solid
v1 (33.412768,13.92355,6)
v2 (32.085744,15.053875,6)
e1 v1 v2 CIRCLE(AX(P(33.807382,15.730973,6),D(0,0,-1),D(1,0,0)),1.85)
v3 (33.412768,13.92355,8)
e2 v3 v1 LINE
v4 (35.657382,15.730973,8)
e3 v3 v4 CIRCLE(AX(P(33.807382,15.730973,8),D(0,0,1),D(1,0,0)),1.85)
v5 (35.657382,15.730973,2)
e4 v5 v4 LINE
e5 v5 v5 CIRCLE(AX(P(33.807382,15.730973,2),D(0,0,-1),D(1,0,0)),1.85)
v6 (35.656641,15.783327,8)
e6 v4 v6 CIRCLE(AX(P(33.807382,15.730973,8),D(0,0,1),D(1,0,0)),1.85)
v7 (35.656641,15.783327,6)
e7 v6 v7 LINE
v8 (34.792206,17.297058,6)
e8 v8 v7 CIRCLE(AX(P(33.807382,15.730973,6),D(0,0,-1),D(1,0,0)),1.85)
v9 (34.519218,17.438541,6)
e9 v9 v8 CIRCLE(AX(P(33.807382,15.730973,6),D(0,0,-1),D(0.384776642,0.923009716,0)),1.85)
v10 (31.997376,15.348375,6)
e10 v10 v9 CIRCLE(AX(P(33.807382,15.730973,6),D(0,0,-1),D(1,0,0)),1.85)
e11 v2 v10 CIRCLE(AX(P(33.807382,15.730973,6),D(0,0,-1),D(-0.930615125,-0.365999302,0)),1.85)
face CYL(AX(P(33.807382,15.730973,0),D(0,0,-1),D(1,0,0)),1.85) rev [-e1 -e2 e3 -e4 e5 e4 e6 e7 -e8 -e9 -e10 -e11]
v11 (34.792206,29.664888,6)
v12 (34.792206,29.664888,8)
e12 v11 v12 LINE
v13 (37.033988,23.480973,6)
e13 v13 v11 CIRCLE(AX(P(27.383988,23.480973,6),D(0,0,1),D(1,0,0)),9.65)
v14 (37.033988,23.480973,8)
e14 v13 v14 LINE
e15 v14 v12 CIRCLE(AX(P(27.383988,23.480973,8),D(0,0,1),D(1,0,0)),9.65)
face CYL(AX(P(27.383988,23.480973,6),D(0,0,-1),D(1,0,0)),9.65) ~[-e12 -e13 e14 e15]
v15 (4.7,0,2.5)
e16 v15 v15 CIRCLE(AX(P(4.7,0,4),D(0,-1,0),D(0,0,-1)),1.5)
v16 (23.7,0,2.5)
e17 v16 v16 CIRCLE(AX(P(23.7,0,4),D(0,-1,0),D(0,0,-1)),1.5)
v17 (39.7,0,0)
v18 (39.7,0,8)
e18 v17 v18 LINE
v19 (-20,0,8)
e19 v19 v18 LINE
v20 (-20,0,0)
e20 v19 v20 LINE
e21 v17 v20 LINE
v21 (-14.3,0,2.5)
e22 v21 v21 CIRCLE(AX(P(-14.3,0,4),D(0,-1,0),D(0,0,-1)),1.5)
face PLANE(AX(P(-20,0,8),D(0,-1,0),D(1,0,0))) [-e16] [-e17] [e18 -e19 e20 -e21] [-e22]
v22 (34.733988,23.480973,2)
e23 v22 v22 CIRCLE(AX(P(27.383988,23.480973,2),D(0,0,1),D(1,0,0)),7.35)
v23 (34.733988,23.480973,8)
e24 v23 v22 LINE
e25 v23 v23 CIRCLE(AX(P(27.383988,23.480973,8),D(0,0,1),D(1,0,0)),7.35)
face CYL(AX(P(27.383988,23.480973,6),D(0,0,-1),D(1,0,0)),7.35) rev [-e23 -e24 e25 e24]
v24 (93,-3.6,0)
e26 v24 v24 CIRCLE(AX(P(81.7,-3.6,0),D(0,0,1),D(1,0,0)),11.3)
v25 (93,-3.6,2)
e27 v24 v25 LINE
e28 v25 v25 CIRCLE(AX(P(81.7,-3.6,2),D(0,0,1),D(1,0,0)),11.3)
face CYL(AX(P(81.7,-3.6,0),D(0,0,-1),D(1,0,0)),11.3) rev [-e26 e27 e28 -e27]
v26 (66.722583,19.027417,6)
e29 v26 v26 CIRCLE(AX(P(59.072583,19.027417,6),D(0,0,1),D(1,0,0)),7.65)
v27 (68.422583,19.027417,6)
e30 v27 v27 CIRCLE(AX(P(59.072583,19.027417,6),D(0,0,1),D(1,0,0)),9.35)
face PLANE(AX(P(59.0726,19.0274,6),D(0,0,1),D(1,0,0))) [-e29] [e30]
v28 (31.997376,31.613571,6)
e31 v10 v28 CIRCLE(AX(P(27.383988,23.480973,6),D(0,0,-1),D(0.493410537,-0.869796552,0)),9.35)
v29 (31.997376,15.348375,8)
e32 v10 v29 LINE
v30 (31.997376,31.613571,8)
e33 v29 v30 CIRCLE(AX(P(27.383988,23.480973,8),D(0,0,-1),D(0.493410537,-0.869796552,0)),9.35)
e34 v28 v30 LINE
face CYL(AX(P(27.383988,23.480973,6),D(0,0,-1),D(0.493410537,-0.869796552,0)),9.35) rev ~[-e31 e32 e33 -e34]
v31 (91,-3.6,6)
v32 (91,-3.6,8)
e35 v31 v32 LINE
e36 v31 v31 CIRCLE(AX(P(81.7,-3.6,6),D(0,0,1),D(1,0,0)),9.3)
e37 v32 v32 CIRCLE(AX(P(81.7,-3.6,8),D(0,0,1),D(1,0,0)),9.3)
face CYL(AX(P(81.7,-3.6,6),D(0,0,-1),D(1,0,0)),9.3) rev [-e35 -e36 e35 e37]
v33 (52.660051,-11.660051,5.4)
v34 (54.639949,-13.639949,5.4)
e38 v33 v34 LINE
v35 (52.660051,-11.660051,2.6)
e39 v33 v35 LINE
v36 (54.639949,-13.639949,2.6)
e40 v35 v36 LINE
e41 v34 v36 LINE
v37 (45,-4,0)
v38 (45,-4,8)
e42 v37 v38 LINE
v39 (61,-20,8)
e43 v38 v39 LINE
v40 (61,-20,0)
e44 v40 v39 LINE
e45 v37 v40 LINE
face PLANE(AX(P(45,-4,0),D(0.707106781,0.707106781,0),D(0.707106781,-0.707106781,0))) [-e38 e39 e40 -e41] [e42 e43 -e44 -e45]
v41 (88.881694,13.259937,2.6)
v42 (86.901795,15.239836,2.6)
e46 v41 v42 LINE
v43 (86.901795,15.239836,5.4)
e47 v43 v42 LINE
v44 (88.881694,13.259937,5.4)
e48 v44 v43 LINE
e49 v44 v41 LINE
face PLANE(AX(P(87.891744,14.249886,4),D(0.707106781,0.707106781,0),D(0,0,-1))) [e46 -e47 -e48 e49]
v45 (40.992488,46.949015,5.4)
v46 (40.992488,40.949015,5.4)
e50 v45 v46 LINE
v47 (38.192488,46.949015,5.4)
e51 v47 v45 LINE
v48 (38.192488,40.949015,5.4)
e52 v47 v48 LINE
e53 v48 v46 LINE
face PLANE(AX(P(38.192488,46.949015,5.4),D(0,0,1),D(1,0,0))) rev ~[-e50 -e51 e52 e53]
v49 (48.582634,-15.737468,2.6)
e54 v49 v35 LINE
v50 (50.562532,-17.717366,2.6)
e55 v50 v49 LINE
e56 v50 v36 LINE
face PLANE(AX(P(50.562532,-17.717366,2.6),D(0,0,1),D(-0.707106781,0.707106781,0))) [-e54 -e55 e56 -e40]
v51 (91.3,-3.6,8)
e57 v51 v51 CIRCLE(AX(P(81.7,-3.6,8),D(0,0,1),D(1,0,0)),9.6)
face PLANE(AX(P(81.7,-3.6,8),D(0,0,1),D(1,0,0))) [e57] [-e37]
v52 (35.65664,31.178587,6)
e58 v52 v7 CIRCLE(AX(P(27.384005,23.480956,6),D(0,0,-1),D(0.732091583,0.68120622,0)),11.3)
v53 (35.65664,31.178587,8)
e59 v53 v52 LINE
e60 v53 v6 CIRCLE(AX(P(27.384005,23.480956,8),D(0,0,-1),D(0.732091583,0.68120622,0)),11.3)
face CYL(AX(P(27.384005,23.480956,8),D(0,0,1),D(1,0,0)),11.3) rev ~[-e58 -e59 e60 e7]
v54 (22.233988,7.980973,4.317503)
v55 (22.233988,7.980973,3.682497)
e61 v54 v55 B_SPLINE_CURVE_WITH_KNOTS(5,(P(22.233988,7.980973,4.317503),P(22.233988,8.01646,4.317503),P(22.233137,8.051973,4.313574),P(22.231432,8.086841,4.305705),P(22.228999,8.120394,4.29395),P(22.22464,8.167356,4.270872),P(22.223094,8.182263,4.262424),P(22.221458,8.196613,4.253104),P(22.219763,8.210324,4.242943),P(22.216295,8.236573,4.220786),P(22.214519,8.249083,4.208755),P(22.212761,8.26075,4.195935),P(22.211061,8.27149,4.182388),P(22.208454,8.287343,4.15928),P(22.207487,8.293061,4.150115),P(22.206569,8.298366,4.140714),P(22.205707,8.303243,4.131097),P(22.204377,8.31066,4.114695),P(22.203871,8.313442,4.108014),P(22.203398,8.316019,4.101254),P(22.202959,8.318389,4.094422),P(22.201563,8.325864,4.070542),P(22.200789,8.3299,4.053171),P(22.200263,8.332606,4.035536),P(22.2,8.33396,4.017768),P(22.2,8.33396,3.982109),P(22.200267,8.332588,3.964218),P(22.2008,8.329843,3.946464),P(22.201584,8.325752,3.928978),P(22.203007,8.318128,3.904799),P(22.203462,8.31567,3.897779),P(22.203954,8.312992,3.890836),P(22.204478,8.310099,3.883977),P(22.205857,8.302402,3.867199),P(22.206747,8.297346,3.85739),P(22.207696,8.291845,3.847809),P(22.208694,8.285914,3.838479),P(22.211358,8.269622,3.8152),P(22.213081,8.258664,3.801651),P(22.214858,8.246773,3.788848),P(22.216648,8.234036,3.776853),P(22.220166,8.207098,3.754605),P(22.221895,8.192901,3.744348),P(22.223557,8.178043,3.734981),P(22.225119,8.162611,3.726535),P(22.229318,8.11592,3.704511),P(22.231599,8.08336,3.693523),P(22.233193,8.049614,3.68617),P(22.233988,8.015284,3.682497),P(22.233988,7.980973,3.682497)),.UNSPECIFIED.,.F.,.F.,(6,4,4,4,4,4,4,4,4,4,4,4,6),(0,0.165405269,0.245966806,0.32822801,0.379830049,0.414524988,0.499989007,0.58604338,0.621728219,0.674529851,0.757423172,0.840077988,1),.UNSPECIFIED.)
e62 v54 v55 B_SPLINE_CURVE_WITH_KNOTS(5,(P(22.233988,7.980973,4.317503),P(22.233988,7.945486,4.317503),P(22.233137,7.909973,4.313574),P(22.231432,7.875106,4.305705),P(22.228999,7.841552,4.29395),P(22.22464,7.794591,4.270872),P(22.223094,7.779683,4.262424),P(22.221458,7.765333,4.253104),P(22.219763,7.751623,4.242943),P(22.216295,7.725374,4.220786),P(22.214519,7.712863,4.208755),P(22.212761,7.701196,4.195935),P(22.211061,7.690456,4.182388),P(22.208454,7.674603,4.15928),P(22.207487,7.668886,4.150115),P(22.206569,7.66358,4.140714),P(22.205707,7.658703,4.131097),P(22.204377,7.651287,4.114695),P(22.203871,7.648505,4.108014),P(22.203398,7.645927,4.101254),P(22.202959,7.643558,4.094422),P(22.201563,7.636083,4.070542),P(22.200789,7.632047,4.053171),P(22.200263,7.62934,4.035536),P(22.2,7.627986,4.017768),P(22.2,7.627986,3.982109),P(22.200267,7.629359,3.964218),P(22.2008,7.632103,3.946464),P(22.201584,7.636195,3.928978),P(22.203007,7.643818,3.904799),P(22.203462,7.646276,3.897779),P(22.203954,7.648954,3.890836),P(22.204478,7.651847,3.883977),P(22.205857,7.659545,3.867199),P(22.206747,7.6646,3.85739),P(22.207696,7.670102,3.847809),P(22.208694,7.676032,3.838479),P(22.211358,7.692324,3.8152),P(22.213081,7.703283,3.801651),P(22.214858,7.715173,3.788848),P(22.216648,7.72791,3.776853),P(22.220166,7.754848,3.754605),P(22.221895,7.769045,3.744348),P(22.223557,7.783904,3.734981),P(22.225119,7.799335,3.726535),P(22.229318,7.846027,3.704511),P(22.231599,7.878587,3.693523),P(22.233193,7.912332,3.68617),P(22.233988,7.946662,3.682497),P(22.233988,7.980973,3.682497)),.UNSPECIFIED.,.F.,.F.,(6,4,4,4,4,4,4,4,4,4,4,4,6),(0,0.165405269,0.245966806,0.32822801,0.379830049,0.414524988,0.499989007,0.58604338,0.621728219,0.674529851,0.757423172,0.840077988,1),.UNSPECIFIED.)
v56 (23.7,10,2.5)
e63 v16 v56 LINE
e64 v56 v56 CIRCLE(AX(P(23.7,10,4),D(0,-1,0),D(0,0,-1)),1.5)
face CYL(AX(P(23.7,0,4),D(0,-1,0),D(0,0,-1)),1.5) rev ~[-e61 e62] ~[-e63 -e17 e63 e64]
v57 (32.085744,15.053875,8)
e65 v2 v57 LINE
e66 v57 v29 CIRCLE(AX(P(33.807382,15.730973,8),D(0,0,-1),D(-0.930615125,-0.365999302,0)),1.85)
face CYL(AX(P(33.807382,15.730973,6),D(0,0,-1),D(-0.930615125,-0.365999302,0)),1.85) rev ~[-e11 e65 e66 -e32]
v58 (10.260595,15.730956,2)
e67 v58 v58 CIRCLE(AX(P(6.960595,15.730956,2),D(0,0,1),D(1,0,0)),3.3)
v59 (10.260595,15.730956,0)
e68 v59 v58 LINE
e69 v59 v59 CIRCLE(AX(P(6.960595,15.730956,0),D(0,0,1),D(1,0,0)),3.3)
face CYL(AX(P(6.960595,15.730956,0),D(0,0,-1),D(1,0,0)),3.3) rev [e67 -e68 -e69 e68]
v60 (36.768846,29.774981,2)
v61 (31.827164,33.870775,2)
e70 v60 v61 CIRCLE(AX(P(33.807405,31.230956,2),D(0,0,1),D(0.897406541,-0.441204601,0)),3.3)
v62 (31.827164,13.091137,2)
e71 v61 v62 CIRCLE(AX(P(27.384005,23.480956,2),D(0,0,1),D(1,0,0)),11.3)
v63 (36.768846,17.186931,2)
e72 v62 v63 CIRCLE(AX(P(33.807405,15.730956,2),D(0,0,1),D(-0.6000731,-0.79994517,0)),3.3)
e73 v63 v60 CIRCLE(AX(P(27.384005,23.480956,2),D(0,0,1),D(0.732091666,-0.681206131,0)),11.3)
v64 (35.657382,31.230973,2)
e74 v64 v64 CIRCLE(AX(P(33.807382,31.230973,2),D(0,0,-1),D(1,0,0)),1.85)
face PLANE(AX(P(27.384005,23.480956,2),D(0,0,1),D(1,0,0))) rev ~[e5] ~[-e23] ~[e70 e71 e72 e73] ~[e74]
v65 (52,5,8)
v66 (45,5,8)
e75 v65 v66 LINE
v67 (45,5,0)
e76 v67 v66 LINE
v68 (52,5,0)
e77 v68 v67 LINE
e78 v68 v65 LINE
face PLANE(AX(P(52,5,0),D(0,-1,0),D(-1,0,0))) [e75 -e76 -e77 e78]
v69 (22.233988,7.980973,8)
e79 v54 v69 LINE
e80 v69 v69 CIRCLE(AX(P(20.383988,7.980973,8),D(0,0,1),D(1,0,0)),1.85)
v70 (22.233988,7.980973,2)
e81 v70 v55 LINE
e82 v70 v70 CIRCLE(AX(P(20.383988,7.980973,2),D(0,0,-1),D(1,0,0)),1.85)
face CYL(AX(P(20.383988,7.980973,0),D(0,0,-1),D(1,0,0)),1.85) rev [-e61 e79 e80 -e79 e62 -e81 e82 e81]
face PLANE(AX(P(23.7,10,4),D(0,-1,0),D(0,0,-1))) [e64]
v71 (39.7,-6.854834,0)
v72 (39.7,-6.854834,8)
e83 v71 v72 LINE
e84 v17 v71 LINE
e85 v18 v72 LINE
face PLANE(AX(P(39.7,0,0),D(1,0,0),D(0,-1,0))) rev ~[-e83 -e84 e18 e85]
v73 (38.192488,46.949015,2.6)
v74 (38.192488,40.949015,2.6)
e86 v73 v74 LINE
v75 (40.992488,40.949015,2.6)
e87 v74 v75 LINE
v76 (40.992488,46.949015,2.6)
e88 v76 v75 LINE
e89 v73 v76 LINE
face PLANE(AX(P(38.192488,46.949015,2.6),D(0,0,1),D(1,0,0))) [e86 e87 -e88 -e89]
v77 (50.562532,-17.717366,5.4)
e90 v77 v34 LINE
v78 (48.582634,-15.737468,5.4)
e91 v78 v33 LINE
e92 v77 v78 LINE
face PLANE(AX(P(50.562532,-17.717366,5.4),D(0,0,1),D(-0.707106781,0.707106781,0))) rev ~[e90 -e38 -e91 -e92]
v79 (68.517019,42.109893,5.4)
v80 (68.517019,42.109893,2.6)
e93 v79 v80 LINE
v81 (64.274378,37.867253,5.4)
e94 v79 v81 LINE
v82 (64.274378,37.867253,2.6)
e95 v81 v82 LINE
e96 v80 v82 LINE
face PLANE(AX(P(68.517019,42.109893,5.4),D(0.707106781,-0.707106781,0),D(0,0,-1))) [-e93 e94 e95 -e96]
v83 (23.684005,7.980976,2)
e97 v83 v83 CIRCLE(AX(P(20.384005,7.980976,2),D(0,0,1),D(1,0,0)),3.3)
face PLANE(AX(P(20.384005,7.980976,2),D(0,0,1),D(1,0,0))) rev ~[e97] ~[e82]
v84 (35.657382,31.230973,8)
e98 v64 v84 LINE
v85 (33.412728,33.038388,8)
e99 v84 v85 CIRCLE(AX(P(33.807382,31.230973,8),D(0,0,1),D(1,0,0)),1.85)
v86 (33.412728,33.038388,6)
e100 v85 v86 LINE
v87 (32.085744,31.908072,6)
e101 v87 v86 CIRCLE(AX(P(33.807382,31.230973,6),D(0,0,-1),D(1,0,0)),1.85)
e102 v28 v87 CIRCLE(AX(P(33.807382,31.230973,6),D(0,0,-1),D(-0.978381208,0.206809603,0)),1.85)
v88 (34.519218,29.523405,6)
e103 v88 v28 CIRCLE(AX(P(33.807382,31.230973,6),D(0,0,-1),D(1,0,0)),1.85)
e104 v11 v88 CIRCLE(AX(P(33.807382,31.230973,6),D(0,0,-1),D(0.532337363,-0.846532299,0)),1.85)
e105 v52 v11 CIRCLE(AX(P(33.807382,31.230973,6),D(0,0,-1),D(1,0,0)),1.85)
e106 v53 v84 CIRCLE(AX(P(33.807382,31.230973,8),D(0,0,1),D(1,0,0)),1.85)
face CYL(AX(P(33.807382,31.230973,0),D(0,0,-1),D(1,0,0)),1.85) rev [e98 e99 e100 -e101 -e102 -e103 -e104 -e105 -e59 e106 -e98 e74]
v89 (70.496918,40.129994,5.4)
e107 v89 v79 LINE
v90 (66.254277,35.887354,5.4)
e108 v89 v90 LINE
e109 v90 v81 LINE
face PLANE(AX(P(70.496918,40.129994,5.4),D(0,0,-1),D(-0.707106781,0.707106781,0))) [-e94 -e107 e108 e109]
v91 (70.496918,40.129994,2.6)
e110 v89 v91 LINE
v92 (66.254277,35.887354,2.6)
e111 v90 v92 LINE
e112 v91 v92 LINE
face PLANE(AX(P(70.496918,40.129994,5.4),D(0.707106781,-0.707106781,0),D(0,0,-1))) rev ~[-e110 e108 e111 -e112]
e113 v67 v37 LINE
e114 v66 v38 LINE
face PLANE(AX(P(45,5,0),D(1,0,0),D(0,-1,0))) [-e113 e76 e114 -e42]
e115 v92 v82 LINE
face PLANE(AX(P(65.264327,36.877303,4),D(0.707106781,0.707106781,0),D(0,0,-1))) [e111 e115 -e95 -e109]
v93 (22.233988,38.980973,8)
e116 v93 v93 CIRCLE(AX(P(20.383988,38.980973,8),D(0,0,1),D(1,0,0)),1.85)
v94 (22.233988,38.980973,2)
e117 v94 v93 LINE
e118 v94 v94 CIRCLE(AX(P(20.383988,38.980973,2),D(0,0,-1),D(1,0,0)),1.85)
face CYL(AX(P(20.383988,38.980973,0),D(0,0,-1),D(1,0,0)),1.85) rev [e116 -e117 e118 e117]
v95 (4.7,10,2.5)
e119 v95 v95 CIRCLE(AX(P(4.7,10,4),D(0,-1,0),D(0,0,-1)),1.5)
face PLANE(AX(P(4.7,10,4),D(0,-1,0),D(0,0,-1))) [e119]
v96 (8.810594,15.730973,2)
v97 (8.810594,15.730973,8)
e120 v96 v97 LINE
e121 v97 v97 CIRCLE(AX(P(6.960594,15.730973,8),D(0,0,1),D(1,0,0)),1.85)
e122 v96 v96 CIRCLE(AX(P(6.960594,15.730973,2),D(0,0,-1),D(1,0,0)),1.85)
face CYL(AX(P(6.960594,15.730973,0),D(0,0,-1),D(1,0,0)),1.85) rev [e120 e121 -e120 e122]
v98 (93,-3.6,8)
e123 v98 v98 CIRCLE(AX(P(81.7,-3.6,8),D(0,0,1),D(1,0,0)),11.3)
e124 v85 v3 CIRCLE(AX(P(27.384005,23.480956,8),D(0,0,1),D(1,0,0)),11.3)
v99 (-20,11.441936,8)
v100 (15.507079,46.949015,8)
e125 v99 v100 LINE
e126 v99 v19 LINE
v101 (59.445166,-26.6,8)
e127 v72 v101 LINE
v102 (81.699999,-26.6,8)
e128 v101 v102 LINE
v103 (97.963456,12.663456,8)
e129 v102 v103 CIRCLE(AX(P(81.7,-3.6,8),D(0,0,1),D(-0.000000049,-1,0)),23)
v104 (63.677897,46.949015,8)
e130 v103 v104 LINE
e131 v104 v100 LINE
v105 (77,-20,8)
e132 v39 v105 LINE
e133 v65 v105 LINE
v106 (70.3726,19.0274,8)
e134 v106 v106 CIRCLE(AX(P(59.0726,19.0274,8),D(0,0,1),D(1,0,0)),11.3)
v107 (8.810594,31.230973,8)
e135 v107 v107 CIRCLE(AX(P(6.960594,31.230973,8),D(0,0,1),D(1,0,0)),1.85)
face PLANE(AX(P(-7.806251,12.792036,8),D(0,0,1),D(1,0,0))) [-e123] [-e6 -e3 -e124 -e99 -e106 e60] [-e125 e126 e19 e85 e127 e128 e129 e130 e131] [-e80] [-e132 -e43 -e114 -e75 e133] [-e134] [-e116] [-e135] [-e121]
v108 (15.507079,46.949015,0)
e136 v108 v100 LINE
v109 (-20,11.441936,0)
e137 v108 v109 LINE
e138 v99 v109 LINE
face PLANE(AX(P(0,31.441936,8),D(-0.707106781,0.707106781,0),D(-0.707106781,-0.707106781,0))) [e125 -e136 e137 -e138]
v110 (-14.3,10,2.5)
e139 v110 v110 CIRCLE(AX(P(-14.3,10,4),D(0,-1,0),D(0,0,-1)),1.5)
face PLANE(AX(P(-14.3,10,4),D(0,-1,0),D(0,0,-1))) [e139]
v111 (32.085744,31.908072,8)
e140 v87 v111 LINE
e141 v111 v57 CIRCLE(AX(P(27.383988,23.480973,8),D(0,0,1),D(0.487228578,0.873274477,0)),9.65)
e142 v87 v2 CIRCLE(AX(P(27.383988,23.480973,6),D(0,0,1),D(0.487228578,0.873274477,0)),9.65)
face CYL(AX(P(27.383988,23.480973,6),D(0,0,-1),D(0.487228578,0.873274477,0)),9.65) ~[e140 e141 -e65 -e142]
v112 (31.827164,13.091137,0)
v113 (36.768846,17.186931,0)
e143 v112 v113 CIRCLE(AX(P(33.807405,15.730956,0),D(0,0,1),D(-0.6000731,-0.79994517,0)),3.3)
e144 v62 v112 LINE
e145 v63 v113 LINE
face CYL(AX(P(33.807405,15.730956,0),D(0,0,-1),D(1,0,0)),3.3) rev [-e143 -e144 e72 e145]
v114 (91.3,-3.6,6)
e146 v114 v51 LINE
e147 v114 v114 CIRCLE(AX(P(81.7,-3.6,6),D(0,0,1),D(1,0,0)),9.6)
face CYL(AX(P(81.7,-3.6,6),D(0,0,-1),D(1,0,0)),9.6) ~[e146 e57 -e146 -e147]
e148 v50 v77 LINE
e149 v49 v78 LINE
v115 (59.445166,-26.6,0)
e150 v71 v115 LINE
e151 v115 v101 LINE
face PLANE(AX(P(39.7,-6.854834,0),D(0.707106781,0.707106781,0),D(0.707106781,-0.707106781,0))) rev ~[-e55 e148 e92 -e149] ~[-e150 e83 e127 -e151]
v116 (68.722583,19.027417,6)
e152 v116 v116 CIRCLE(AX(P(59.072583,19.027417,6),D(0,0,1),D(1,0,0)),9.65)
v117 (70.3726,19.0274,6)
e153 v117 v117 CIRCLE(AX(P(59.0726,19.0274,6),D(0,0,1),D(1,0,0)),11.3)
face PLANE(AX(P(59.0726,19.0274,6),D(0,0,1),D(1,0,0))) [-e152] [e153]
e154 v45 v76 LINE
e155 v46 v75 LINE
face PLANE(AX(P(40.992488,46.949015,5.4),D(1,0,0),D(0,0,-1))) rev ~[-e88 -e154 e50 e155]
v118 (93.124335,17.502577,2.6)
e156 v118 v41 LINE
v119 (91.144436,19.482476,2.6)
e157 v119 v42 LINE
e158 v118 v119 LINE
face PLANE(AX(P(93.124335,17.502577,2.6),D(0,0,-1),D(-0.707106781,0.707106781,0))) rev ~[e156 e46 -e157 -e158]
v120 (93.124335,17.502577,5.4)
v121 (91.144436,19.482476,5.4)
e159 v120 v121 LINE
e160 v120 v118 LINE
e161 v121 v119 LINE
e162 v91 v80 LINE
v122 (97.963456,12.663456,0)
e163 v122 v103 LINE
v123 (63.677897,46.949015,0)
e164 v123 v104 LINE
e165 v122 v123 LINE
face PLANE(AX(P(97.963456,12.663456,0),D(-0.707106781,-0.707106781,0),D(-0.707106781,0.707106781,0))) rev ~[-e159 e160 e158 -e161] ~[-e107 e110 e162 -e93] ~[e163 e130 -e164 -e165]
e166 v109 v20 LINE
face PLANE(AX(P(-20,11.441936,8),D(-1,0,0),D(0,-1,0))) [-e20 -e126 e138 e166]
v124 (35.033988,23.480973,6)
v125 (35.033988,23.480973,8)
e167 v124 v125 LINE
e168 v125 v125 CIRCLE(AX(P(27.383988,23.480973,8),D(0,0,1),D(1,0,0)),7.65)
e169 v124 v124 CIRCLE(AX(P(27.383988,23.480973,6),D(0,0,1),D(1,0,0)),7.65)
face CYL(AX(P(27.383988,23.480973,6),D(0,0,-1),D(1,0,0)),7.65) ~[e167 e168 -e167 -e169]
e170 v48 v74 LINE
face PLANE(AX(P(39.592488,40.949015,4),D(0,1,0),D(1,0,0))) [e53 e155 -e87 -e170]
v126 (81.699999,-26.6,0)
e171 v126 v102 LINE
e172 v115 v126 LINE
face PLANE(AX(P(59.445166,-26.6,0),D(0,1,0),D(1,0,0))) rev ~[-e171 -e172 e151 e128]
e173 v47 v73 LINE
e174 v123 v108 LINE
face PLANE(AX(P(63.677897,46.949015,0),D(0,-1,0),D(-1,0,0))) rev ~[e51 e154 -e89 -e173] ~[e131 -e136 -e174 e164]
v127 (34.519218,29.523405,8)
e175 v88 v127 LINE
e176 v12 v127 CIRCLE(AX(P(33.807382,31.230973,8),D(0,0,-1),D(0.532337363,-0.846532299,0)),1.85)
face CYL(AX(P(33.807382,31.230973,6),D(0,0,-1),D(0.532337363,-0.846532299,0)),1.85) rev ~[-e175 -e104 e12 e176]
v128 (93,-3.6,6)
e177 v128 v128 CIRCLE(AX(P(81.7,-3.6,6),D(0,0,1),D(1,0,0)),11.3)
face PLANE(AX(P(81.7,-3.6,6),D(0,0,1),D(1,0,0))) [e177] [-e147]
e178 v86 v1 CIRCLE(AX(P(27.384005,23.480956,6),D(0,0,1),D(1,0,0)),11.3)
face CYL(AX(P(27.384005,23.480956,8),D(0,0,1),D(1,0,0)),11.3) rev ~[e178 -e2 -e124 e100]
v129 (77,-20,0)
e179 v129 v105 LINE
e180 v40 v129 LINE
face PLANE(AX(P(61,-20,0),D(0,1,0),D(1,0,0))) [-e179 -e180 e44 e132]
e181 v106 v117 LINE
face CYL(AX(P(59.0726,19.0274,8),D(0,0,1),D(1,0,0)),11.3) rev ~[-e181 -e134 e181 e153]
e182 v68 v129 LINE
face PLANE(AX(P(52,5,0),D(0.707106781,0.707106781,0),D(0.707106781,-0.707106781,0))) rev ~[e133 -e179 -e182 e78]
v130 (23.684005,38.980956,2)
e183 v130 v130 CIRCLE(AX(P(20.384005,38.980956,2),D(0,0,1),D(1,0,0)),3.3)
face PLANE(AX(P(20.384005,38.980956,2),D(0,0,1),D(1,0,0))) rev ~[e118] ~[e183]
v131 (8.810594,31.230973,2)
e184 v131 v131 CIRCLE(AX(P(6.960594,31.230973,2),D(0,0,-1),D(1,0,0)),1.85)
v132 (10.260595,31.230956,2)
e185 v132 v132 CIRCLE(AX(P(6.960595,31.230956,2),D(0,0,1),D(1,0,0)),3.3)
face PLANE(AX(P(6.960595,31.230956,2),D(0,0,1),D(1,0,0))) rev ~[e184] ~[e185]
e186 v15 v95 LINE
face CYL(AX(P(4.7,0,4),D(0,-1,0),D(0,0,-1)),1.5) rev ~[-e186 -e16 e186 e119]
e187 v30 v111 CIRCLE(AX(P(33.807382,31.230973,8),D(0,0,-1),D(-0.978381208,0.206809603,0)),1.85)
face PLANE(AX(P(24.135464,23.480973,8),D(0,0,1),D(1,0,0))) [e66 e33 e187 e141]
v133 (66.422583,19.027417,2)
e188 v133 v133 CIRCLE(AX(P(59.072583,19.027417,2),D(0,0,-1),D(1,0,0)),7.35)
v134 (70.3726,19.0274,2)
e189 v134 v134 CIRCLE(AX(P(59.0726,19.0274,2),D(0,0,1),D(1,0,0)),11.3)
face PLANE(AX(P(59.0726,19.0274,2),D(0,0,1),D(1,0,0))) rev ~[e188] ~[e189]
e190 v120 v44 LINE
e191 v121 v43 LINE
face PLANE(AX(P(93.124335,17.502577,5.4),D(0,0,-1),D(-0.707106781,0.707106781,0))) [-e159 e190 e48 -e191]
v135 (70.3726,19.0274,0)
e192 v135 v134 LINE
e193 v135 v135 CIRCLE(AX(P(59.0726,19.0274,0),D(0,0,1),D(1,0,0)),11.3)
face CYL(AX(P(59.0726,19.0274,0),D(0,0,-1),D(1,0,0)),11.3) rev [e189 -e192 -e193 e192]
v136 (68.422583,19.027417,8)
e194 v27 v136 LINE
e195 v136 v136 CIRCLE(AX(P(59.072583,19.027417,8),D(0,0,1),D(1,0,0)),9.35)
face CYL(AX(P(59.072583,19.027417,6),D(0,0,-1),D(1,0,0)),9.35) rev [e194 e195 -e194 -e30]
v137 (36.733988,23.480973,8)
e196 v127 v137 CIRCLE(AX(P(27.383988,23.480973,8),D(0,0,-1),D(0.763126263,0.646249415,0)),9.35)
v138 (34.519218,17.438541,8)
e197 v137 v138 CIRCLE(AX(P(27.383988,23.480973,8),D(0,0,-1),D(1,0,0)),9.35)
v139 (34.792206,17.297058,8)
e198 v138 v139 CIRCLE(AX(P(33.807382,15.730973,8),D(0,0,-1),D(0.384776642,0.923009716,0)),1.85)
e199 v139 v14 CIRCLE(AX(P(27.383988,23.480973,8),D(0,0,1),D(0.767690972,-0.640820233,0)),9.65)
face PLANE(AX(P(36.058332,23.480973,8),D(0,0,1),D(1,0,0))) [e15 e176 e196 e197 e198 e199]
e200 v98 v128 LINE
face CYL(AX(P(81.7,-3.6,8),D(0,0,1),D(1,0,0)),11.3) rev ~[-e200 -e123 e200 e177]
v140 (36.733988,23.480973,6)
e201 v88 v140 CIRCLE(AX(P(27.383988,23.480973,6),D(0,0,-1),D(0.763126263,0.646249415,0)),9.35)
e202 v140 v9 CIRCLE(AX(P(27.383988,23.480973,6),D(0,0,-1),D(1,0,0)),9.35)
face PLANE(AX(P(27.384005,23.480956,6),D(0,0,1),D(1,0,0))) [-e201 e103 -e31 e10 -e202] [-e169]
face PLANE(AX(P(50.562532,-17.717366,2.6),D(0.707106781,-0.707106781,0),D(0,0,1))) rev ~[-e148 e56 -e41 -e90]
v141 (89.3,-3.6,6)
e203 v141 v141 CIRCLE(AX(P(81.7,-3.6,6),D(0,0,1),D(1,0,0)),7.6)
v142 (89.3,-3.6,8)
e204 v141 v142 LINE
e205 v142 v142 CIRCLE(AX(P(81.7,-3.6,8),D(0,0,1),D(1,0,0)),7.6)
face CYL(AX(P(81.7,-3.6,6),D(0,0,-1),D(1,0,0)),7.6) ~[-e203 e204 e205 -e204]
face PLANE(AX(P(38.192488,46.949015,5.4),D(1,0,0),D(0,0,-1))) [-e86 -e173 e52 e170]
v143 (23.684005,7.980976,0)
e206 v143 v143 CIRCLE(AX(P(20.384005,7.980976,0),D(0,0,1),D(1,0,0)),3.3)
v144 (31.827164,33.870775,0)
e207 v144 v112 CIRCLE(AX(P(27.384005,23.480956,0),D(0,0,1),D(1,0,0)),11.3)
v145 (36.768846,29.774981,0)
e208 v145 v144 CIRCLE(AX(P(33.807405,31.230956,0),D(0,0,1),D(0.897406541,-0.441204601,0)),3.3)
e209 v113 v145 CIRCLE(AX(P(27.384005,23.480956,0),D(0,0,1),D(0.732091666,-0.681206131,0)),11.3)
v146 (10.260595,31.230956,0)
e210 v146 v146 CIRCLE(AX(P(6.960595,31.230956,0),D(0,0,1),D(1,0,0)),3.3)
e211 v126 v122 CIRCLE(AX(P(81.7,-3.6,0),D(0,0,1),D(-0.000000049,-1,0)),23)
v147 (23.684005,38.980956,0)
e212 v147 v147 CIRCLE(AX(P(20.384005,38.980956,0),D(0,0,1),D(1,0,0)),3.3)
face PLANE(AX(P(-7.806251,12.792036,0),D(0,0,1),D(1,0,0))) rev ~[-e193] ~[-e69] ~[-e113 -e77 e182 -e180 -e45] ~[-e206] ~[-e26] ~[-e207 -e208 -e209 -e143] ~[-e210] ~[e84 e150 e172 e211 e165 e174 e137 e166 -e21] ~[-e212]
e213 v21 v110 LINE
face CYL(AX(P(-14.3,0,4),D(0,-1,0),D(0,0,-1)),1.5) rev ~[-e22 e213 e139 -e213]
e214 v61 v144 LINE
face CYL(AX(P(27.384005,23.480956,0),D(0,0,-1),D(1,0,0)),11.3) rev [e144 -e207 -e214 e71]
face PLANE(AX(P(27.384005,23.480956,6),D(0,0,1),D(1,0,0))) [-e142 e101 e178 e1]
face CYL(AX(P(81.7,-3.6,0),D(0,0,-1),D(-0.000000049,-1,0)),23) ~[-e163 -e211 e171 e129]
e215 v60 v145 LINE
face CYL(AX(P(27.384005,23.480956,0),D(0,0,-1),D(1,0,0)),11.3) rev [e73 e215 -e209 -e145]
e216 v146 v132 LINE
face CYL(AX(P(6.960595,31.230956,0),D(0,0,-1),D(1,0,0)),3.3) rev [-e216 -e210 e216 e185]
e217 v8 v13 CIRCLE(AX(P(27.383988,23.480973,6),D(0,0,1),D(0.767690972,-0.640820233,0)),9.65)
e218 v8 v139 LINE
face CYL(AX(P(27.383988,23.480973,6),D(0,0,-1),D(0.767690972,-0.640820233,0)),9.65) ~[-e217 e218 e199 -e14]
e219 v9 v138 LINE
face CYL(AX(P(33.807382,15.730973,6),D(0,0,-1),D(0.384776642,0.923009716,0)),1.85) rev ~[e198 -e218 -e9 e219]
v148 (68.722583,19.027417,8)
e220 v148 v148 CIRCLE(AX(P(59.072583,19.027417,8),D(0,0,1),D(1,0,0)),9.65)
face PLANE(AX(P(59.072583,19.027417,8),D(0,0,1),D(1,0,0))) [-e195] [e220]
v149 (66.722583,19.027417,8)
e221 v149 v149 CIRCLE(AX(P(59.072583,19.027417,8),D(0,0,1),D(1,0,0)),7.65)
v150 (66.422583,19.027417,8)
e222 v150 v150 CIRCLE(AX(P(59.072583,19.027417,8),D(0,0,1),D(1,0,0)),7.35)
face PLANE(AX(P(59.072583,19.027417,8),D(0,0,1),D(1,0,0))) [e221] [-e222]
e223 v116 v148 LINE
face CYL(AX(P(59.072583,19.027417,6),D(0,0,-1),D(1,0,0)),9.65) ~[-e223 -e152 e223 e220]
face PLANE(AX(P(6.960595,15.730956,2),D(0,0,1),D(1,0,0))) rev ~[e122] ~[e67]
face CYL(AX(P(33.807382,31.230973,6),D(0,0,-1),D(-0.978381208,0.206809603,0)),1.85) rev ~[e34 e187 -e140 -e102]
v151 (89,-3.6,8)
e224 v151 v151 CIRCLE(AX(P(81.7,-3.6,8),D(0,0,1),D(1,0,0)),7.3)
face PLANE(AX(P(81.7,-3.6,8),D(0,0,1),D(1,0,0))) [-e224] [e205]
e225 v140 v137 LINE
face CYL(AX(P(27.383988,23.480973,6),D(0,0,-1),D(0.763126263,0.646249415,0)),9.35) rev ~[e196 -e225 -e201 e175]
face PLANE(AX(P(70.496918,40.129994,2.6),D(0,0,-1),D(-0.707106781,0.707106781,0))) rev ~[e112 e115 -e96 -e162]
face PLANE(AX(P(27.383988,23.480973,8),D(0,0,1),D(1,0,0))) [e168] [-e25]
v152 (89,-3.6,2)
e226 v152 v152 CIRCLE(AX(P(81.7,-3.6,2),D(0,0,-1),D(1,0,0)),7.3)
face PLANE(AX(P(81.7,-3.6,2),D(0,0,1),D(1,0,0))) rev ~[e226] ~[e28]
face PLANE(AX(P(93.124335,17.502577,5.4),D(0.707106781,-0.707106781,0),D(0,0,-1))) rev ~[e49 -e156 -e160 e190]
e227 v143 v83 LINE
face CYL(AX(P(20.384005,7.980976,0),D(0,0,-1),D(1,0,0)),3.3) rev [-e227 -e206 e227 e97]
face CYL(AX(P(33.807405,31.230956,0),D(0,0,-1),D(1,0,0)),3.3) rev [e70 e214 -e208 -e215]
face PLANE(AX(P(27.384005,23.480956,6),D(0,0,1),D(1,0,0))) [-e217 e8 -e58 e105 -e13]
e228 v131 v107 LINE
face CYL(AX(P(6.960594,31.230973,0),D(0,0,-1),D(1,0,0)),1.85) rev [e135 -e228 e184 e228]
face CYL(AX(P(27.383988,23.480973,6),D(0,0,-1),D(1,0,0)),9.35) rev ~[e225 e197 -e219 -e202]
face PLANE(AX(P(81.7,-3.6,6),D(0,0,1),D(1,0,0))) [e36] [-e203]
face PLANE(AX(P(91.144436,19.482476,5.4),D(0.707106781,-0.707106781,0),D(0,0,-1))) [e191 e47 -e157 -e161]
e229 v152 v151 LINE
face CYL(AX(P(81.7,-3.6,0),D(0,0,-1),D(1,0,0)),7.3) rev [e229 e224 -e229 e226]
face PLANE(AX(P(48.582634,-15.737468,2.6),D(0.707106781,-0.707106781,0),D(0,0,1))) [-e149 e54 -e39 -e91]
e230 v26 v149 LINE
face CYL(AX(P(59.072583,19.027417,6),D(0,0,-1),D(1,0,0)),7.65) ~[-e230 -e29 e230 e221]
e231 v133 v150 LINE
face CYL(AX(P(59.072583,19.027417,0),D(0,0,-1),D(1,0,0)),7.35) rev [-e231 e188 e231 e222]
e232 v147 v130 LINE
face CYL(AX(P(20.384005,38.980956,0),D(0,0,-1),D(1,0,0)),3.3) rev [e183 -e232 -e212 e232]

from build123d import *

# Parameters (mm, degrees)
MODEL_R                  = 7.35
MODEL_R_2                = 7.3
MODEL_R_3                = 1.85
RESSALTO_EXTRUS_O1_DEPTH = 8
ESBO_O3_R                = 11.3
CORTE_EXTRUS_O1_DEPTH    = 2
ESBO_O4_R                = 11.3
CORTE_EXTRUS_O2_DEPTH    = 2
ESBO_O2_R                = 3.3
CORTE_EXTRUS_O4_DEPTH    = 2
ESBO_O7_W                = 2.8
ESBO_O7_H                = 2.8
CORTE_EXTRUS_O6_DEPTH    = 6
ESBO_O8_W                = 2.8
ESBO_O8_H                = 2.8
CORTE_EXTRUS_O7_DEPTH    = 6
ESBO_O10_W               = 2.8
ESBO_O10_H               = 2.8
CORTE_EXTRUS_O9_DEPTH    = 6
ESBO_O11_R               = 7.65
ESBO_O11_R_2             = 7.35
ESBO_O11_R_3             = 9.65
ESBO_O11_R_4             = 9.35
ESBO_O11_R_5             = 9.6
ESBO_O11_R_6             = 9.3
ESBO_O11_R_7             = 7.6
ESBO_O11_R_8             = 7.3
RESSALTO_EXTRUS_O2_DEPTH = 2
RESSALTO_EXTRUS_O3_DEPTH = 8
ESBO_O6_R                = 1.5
CORTE_EXTRUS_O5_DEPTH    = 10


with BuildPart() as part:
    # Model → Ressalto-extrusão1 (new body)
    with BuildSketch(Plane.XY):
        with BuildLine():
            Line((0, 0), (39, 0))
            Line((39, 0), (39.7, 0))
            Line((39.7, 0), (39.7, -6.854833996))
            Line((39.7, -6.854833996), (52.445166004, -19.6))
            Line((52.445166004, -19.6), (59.445166004, -26.6))
            Line((59.445166004, -26.6), (81.699998871, -26.6))
            ThreePointArc((81.699998871, -26.6), (102.949229032, -12.401719466), (97.963455967, 12.663455967))
            Line((97.963455967, 12.663455967), (63.677897161, 46.949014774))
            Line((63.677897161, 46.949014774), (50.111140335, 46.949014774))
            Line((50.111140335, 46.949014774), (15.50707852, 46.949014774))
            Line((15.50707852, 46.949014774), (0, 31.441936254))
            Line((0, 31.441936254), (0, 0))
        make_face()
        with Locations((59.072583002, 19.027416998)):
            Circle(MODEL_R, mode=Mode.SUBTRACT)
        with Locations((81.7, -3.6)):
            Circle(MODEL_R_2, mode=Mode.SUBTRACT)
        with Locations((6.960594046, 15.730973227)):
            Circle(MODEL_R_3, mode=Mode.SUBTRACT)
        with Locations((6.960594046, 31.230973227)):
            Circle(MODEL_R_3, mode=Mode.SUBTRACT)
        with Locations((20.383987804, 38.980973227)):
            Circle(MODEL_R_3, mode=Mode.SUBTRACT)
        with Locations((33.807381563, 31.230973227)):
            Circle(MODEL_R_3, mode=Mode.SUBTRACT)
        with Locations((33.807381563, 15.730973227)):
            Circle(MODEL_R_3, mode=Mode.SUBTRACT)
        with Locations((20.383987804, 7.980973227)):
            Circle(MODEL_R_3, mode=Mode.SUBTRACT)
        with Locations((27.383987804, 23.480973227)):
            Circle(MODEL_R, mode=Mode.SUBTRACT)
        Polygon((72, -15), (52, 5), (45, 5), (45, -4), (61, -20), (77, -20), align=None, mode=Mode.SUBTRACT)
    extrude(amount=RESSALTO_EXTRUS_O1_DEPTH)

    # Esboço3 → Corte-extrusão1 (cut)
    with BuildSketch(Plane.XY):
        with Locations((81.7, -3.6)):
            Circle(ESBO_O3_R)
        with Locations((59.0726, 19.0274)):
            Circle(ESBO_O3_R)
        with Locations((27.384004802, 23.480956229)):
            Circle(ESBO_O3_R)
    extrude(amount=CORTE_EXTRUS_O1_DEPTH, mode=Mode.SUBTRACT)

    # Esboço4 → Corte-extrusão2 (cut)
    with BuildSketch(Plane.XY.offset(8)):
        with Locations((81.7, -3.6)):
            Circle(ESBO_O4_R)
        with Locations((59.0726, 19.0274)):
            Circle(ESBO_O4_R)
        with Locations((27.384004802, 23.480956229)):
            Circle(ESBO_O4_R)
    extrude(amount=-CORTE_EXTRUS_O2_DEPTH, mode=Mode.SUBTRACT)

    # Esboço2 → Corte-extrusão4 (cut)
    with BuildSketch(Plane.XY):
        with Locations((6.960594802, 15.730956229)):
            Circle(ESBO_O2_R)
        with Locations((6.960594802, 31.230956229)):
            Circle(ESBO_O2_R)
        with Locations((33.807404802, 15.730956229)):
            Circle(ESBO_O2_R)
        with Locations((20.384004802, 38.980956229)):
            Circle(ESBO_O2_R)
        with Locations((33.807404802, 31.230956229)):
            Circle(ESBO_O2_R)
        with Locations((20.384004802, 7.980976229)):
            Circle(ESBO_O2_R)
    extrude(amount=CORTE_EXTRUS_O4_DEPTH, mode=Mode.SUBTRACT)

    # Esboço7 → Corte-extrusão6 (cut)
    with BuildSketch(Plane(origin=(55.313455967, 55.313455967, 0), x_dir=(0, 0, -1), z_dir=(0.7071067811865474, 0.7071067811865477, 0))):
        with Locations((-4, -52.072657306)):
            Rectangle(ESBO_O7_W, ESBO_O7_H)
        with Locations((-4, -20.072657306)):
            Rectangle(ESBO_O7_W, ESBO_O7_H)
    extrude(amount=-CORTE_EXTRUS_O6_DEPTH, mode=Mode.SUBTRACT)

    # Esboço8 → Corte-extrusão7 (cut)
    with BuildSketch(Plane(origin=(0, 46.949014774, 0), x_dir=(1, 0, 0), z_dir=(0, 1, 0))):
        with Locations((39.59248784, -4)):
            Rectangle(ESBO_O8_W, ESBO_O8_H)
    extrude(amount=-CORTE_EXTRUS_O7_DEPTH, mode=Mode.SUBTRACT)

    # Esboço10 → Corte-extrusão9 (cut)
    with BuildSketch(Plane(origin=(16.422583002, 16.422583002, 0), x_dir=(0, 0, 1), z_dir=(-0.7071067811865477, -0.7071067811865475, 0))):
        with Locations((4, -46.881179593)):
            Rectangle(ESBO_O10_W, ESBO_O10_H)
    extrude(amount=-CORTE_EXTRUS_O9_DEPTH, mode=Mode.SUBTRACT)

    # Esboço11 → Ressalto-extrusão2 (add)
    with BuildSketch(Plane.XY.offset(6)):
        with BuildLine():
            ThreePointArc((34.519218365, 29.523405258), (36.162851789, 26.698743748), (36.733987804, 23.480973227))
            ThreePointArc((36.733987804, 23.480973227), (36.162851789, 20.263202705), (34.519218365, 17.438541195))
            ThreePointArc((34.519218365, 17.438541195), (34.658656459, 17.373480777), (34.792205686, 17.297057977))
            ThreePointArc((34.792205686, 17.297057977), (36.456247792, 20.192113437), (37.033987804, 23.480973227))
            ThreePointArc((37.033987804, 23.480973227), (36.456247792, 26.769833017), (34.792205686, 29.664888476))
            ThreePointArc((34.792205686, 29.664888476), (34.658656459, 29.588465677), (34.519218365, 29.523405258))
        make_face()
        with BuildLine():
            ThreePointArc((31.997376327, 15.348375466), (18.033987804, 23.480973227), (31.997376327, 31.613570987))
            ThreePointArc((31.997376327, 31.613570987), (32.03543104, 31.762660488), (32.085743581, 31.908071934))
            ThreePointArc((32.085743581, 31.908071934), (17.733987804, 23.480973227), (32.085743581, 15.05387452))
            ThreePointArc((32.085743581, 15.05387452), (32.03543104, 15.199285965), (31.997376327, 15.348375466))
        make_face()
        with Locations((27.383987804, 23.480973227)):
            Circle(ESBO_O11_R)
        with Locations((27.383987804, 23.480973227)):
            Circle(ESBO_O11_R_2, mode=Mode.SUBTRACT)
        with Locations((59.072583002, 19.027416998)):
            Circle(ESBO_O11_R_3)
        with Locations((59.072583002, 19.027416998)):
            Circle(ESBO_O11_R_4, mode=Mode.SUBTRACT)
        with Locations((59.072583002, 19.027416998)):
            Circle(ESBO_O11_R)
        with Locations((59.072583002, 19.027416998)):
            Circle(ESBO_O11_R_2, mode=Mode.SUBTRACT)
        with Locations((81.7, -3.6)):
            Circle(ESBO_O11_R_5)
        with Locations((81.7, -3.6)):
            Circle(ESBO_O11_R_6, mode=Mode.SUBTRACT)
        with Locations((81.7, -3.6)):
            Circle(ESBO_O11_R_7)
        with Locations((81.7, -3.6)):
            Circle(ESBO_O11_R_8, mode=Mode.SUBTRACT)
    extrude(amount=RESSALTO_EXTRUS_O2_DEPTH)

    # Esboço13 → Ressalto-extrusão3 (add)
    with BuildSketch(Plane.XY.offset(8)):
        Polygon((0, 31.441936254), (-20, 11.441936254), (-20, 0), (0, 0), align=None)
    extrude(amount=-RESSALTO_EXTRUS_O3_DEPTH)

    # Esboço6 → Corte-extrusão5 (cut)
    with BuildSketch(Plane.XZ):
        with Locations(Location((4.7, 4, 0), (0, 0, 270))):
            Circle(ESBO_O6_R)
        with Locations(Location((23.7, 4, 0), (0, 0, 270))):
            Circle(ESBO_O6_R)
        with Locations(Location((-14.3, 4, 0), (0, 0, 270))):
            Circle(ESBO_O6_R)
    extrude(amount=-CORTE_EXTRUS_O5_DEPTH, mode=Mode.SUBTRACT)


solid = part.part
